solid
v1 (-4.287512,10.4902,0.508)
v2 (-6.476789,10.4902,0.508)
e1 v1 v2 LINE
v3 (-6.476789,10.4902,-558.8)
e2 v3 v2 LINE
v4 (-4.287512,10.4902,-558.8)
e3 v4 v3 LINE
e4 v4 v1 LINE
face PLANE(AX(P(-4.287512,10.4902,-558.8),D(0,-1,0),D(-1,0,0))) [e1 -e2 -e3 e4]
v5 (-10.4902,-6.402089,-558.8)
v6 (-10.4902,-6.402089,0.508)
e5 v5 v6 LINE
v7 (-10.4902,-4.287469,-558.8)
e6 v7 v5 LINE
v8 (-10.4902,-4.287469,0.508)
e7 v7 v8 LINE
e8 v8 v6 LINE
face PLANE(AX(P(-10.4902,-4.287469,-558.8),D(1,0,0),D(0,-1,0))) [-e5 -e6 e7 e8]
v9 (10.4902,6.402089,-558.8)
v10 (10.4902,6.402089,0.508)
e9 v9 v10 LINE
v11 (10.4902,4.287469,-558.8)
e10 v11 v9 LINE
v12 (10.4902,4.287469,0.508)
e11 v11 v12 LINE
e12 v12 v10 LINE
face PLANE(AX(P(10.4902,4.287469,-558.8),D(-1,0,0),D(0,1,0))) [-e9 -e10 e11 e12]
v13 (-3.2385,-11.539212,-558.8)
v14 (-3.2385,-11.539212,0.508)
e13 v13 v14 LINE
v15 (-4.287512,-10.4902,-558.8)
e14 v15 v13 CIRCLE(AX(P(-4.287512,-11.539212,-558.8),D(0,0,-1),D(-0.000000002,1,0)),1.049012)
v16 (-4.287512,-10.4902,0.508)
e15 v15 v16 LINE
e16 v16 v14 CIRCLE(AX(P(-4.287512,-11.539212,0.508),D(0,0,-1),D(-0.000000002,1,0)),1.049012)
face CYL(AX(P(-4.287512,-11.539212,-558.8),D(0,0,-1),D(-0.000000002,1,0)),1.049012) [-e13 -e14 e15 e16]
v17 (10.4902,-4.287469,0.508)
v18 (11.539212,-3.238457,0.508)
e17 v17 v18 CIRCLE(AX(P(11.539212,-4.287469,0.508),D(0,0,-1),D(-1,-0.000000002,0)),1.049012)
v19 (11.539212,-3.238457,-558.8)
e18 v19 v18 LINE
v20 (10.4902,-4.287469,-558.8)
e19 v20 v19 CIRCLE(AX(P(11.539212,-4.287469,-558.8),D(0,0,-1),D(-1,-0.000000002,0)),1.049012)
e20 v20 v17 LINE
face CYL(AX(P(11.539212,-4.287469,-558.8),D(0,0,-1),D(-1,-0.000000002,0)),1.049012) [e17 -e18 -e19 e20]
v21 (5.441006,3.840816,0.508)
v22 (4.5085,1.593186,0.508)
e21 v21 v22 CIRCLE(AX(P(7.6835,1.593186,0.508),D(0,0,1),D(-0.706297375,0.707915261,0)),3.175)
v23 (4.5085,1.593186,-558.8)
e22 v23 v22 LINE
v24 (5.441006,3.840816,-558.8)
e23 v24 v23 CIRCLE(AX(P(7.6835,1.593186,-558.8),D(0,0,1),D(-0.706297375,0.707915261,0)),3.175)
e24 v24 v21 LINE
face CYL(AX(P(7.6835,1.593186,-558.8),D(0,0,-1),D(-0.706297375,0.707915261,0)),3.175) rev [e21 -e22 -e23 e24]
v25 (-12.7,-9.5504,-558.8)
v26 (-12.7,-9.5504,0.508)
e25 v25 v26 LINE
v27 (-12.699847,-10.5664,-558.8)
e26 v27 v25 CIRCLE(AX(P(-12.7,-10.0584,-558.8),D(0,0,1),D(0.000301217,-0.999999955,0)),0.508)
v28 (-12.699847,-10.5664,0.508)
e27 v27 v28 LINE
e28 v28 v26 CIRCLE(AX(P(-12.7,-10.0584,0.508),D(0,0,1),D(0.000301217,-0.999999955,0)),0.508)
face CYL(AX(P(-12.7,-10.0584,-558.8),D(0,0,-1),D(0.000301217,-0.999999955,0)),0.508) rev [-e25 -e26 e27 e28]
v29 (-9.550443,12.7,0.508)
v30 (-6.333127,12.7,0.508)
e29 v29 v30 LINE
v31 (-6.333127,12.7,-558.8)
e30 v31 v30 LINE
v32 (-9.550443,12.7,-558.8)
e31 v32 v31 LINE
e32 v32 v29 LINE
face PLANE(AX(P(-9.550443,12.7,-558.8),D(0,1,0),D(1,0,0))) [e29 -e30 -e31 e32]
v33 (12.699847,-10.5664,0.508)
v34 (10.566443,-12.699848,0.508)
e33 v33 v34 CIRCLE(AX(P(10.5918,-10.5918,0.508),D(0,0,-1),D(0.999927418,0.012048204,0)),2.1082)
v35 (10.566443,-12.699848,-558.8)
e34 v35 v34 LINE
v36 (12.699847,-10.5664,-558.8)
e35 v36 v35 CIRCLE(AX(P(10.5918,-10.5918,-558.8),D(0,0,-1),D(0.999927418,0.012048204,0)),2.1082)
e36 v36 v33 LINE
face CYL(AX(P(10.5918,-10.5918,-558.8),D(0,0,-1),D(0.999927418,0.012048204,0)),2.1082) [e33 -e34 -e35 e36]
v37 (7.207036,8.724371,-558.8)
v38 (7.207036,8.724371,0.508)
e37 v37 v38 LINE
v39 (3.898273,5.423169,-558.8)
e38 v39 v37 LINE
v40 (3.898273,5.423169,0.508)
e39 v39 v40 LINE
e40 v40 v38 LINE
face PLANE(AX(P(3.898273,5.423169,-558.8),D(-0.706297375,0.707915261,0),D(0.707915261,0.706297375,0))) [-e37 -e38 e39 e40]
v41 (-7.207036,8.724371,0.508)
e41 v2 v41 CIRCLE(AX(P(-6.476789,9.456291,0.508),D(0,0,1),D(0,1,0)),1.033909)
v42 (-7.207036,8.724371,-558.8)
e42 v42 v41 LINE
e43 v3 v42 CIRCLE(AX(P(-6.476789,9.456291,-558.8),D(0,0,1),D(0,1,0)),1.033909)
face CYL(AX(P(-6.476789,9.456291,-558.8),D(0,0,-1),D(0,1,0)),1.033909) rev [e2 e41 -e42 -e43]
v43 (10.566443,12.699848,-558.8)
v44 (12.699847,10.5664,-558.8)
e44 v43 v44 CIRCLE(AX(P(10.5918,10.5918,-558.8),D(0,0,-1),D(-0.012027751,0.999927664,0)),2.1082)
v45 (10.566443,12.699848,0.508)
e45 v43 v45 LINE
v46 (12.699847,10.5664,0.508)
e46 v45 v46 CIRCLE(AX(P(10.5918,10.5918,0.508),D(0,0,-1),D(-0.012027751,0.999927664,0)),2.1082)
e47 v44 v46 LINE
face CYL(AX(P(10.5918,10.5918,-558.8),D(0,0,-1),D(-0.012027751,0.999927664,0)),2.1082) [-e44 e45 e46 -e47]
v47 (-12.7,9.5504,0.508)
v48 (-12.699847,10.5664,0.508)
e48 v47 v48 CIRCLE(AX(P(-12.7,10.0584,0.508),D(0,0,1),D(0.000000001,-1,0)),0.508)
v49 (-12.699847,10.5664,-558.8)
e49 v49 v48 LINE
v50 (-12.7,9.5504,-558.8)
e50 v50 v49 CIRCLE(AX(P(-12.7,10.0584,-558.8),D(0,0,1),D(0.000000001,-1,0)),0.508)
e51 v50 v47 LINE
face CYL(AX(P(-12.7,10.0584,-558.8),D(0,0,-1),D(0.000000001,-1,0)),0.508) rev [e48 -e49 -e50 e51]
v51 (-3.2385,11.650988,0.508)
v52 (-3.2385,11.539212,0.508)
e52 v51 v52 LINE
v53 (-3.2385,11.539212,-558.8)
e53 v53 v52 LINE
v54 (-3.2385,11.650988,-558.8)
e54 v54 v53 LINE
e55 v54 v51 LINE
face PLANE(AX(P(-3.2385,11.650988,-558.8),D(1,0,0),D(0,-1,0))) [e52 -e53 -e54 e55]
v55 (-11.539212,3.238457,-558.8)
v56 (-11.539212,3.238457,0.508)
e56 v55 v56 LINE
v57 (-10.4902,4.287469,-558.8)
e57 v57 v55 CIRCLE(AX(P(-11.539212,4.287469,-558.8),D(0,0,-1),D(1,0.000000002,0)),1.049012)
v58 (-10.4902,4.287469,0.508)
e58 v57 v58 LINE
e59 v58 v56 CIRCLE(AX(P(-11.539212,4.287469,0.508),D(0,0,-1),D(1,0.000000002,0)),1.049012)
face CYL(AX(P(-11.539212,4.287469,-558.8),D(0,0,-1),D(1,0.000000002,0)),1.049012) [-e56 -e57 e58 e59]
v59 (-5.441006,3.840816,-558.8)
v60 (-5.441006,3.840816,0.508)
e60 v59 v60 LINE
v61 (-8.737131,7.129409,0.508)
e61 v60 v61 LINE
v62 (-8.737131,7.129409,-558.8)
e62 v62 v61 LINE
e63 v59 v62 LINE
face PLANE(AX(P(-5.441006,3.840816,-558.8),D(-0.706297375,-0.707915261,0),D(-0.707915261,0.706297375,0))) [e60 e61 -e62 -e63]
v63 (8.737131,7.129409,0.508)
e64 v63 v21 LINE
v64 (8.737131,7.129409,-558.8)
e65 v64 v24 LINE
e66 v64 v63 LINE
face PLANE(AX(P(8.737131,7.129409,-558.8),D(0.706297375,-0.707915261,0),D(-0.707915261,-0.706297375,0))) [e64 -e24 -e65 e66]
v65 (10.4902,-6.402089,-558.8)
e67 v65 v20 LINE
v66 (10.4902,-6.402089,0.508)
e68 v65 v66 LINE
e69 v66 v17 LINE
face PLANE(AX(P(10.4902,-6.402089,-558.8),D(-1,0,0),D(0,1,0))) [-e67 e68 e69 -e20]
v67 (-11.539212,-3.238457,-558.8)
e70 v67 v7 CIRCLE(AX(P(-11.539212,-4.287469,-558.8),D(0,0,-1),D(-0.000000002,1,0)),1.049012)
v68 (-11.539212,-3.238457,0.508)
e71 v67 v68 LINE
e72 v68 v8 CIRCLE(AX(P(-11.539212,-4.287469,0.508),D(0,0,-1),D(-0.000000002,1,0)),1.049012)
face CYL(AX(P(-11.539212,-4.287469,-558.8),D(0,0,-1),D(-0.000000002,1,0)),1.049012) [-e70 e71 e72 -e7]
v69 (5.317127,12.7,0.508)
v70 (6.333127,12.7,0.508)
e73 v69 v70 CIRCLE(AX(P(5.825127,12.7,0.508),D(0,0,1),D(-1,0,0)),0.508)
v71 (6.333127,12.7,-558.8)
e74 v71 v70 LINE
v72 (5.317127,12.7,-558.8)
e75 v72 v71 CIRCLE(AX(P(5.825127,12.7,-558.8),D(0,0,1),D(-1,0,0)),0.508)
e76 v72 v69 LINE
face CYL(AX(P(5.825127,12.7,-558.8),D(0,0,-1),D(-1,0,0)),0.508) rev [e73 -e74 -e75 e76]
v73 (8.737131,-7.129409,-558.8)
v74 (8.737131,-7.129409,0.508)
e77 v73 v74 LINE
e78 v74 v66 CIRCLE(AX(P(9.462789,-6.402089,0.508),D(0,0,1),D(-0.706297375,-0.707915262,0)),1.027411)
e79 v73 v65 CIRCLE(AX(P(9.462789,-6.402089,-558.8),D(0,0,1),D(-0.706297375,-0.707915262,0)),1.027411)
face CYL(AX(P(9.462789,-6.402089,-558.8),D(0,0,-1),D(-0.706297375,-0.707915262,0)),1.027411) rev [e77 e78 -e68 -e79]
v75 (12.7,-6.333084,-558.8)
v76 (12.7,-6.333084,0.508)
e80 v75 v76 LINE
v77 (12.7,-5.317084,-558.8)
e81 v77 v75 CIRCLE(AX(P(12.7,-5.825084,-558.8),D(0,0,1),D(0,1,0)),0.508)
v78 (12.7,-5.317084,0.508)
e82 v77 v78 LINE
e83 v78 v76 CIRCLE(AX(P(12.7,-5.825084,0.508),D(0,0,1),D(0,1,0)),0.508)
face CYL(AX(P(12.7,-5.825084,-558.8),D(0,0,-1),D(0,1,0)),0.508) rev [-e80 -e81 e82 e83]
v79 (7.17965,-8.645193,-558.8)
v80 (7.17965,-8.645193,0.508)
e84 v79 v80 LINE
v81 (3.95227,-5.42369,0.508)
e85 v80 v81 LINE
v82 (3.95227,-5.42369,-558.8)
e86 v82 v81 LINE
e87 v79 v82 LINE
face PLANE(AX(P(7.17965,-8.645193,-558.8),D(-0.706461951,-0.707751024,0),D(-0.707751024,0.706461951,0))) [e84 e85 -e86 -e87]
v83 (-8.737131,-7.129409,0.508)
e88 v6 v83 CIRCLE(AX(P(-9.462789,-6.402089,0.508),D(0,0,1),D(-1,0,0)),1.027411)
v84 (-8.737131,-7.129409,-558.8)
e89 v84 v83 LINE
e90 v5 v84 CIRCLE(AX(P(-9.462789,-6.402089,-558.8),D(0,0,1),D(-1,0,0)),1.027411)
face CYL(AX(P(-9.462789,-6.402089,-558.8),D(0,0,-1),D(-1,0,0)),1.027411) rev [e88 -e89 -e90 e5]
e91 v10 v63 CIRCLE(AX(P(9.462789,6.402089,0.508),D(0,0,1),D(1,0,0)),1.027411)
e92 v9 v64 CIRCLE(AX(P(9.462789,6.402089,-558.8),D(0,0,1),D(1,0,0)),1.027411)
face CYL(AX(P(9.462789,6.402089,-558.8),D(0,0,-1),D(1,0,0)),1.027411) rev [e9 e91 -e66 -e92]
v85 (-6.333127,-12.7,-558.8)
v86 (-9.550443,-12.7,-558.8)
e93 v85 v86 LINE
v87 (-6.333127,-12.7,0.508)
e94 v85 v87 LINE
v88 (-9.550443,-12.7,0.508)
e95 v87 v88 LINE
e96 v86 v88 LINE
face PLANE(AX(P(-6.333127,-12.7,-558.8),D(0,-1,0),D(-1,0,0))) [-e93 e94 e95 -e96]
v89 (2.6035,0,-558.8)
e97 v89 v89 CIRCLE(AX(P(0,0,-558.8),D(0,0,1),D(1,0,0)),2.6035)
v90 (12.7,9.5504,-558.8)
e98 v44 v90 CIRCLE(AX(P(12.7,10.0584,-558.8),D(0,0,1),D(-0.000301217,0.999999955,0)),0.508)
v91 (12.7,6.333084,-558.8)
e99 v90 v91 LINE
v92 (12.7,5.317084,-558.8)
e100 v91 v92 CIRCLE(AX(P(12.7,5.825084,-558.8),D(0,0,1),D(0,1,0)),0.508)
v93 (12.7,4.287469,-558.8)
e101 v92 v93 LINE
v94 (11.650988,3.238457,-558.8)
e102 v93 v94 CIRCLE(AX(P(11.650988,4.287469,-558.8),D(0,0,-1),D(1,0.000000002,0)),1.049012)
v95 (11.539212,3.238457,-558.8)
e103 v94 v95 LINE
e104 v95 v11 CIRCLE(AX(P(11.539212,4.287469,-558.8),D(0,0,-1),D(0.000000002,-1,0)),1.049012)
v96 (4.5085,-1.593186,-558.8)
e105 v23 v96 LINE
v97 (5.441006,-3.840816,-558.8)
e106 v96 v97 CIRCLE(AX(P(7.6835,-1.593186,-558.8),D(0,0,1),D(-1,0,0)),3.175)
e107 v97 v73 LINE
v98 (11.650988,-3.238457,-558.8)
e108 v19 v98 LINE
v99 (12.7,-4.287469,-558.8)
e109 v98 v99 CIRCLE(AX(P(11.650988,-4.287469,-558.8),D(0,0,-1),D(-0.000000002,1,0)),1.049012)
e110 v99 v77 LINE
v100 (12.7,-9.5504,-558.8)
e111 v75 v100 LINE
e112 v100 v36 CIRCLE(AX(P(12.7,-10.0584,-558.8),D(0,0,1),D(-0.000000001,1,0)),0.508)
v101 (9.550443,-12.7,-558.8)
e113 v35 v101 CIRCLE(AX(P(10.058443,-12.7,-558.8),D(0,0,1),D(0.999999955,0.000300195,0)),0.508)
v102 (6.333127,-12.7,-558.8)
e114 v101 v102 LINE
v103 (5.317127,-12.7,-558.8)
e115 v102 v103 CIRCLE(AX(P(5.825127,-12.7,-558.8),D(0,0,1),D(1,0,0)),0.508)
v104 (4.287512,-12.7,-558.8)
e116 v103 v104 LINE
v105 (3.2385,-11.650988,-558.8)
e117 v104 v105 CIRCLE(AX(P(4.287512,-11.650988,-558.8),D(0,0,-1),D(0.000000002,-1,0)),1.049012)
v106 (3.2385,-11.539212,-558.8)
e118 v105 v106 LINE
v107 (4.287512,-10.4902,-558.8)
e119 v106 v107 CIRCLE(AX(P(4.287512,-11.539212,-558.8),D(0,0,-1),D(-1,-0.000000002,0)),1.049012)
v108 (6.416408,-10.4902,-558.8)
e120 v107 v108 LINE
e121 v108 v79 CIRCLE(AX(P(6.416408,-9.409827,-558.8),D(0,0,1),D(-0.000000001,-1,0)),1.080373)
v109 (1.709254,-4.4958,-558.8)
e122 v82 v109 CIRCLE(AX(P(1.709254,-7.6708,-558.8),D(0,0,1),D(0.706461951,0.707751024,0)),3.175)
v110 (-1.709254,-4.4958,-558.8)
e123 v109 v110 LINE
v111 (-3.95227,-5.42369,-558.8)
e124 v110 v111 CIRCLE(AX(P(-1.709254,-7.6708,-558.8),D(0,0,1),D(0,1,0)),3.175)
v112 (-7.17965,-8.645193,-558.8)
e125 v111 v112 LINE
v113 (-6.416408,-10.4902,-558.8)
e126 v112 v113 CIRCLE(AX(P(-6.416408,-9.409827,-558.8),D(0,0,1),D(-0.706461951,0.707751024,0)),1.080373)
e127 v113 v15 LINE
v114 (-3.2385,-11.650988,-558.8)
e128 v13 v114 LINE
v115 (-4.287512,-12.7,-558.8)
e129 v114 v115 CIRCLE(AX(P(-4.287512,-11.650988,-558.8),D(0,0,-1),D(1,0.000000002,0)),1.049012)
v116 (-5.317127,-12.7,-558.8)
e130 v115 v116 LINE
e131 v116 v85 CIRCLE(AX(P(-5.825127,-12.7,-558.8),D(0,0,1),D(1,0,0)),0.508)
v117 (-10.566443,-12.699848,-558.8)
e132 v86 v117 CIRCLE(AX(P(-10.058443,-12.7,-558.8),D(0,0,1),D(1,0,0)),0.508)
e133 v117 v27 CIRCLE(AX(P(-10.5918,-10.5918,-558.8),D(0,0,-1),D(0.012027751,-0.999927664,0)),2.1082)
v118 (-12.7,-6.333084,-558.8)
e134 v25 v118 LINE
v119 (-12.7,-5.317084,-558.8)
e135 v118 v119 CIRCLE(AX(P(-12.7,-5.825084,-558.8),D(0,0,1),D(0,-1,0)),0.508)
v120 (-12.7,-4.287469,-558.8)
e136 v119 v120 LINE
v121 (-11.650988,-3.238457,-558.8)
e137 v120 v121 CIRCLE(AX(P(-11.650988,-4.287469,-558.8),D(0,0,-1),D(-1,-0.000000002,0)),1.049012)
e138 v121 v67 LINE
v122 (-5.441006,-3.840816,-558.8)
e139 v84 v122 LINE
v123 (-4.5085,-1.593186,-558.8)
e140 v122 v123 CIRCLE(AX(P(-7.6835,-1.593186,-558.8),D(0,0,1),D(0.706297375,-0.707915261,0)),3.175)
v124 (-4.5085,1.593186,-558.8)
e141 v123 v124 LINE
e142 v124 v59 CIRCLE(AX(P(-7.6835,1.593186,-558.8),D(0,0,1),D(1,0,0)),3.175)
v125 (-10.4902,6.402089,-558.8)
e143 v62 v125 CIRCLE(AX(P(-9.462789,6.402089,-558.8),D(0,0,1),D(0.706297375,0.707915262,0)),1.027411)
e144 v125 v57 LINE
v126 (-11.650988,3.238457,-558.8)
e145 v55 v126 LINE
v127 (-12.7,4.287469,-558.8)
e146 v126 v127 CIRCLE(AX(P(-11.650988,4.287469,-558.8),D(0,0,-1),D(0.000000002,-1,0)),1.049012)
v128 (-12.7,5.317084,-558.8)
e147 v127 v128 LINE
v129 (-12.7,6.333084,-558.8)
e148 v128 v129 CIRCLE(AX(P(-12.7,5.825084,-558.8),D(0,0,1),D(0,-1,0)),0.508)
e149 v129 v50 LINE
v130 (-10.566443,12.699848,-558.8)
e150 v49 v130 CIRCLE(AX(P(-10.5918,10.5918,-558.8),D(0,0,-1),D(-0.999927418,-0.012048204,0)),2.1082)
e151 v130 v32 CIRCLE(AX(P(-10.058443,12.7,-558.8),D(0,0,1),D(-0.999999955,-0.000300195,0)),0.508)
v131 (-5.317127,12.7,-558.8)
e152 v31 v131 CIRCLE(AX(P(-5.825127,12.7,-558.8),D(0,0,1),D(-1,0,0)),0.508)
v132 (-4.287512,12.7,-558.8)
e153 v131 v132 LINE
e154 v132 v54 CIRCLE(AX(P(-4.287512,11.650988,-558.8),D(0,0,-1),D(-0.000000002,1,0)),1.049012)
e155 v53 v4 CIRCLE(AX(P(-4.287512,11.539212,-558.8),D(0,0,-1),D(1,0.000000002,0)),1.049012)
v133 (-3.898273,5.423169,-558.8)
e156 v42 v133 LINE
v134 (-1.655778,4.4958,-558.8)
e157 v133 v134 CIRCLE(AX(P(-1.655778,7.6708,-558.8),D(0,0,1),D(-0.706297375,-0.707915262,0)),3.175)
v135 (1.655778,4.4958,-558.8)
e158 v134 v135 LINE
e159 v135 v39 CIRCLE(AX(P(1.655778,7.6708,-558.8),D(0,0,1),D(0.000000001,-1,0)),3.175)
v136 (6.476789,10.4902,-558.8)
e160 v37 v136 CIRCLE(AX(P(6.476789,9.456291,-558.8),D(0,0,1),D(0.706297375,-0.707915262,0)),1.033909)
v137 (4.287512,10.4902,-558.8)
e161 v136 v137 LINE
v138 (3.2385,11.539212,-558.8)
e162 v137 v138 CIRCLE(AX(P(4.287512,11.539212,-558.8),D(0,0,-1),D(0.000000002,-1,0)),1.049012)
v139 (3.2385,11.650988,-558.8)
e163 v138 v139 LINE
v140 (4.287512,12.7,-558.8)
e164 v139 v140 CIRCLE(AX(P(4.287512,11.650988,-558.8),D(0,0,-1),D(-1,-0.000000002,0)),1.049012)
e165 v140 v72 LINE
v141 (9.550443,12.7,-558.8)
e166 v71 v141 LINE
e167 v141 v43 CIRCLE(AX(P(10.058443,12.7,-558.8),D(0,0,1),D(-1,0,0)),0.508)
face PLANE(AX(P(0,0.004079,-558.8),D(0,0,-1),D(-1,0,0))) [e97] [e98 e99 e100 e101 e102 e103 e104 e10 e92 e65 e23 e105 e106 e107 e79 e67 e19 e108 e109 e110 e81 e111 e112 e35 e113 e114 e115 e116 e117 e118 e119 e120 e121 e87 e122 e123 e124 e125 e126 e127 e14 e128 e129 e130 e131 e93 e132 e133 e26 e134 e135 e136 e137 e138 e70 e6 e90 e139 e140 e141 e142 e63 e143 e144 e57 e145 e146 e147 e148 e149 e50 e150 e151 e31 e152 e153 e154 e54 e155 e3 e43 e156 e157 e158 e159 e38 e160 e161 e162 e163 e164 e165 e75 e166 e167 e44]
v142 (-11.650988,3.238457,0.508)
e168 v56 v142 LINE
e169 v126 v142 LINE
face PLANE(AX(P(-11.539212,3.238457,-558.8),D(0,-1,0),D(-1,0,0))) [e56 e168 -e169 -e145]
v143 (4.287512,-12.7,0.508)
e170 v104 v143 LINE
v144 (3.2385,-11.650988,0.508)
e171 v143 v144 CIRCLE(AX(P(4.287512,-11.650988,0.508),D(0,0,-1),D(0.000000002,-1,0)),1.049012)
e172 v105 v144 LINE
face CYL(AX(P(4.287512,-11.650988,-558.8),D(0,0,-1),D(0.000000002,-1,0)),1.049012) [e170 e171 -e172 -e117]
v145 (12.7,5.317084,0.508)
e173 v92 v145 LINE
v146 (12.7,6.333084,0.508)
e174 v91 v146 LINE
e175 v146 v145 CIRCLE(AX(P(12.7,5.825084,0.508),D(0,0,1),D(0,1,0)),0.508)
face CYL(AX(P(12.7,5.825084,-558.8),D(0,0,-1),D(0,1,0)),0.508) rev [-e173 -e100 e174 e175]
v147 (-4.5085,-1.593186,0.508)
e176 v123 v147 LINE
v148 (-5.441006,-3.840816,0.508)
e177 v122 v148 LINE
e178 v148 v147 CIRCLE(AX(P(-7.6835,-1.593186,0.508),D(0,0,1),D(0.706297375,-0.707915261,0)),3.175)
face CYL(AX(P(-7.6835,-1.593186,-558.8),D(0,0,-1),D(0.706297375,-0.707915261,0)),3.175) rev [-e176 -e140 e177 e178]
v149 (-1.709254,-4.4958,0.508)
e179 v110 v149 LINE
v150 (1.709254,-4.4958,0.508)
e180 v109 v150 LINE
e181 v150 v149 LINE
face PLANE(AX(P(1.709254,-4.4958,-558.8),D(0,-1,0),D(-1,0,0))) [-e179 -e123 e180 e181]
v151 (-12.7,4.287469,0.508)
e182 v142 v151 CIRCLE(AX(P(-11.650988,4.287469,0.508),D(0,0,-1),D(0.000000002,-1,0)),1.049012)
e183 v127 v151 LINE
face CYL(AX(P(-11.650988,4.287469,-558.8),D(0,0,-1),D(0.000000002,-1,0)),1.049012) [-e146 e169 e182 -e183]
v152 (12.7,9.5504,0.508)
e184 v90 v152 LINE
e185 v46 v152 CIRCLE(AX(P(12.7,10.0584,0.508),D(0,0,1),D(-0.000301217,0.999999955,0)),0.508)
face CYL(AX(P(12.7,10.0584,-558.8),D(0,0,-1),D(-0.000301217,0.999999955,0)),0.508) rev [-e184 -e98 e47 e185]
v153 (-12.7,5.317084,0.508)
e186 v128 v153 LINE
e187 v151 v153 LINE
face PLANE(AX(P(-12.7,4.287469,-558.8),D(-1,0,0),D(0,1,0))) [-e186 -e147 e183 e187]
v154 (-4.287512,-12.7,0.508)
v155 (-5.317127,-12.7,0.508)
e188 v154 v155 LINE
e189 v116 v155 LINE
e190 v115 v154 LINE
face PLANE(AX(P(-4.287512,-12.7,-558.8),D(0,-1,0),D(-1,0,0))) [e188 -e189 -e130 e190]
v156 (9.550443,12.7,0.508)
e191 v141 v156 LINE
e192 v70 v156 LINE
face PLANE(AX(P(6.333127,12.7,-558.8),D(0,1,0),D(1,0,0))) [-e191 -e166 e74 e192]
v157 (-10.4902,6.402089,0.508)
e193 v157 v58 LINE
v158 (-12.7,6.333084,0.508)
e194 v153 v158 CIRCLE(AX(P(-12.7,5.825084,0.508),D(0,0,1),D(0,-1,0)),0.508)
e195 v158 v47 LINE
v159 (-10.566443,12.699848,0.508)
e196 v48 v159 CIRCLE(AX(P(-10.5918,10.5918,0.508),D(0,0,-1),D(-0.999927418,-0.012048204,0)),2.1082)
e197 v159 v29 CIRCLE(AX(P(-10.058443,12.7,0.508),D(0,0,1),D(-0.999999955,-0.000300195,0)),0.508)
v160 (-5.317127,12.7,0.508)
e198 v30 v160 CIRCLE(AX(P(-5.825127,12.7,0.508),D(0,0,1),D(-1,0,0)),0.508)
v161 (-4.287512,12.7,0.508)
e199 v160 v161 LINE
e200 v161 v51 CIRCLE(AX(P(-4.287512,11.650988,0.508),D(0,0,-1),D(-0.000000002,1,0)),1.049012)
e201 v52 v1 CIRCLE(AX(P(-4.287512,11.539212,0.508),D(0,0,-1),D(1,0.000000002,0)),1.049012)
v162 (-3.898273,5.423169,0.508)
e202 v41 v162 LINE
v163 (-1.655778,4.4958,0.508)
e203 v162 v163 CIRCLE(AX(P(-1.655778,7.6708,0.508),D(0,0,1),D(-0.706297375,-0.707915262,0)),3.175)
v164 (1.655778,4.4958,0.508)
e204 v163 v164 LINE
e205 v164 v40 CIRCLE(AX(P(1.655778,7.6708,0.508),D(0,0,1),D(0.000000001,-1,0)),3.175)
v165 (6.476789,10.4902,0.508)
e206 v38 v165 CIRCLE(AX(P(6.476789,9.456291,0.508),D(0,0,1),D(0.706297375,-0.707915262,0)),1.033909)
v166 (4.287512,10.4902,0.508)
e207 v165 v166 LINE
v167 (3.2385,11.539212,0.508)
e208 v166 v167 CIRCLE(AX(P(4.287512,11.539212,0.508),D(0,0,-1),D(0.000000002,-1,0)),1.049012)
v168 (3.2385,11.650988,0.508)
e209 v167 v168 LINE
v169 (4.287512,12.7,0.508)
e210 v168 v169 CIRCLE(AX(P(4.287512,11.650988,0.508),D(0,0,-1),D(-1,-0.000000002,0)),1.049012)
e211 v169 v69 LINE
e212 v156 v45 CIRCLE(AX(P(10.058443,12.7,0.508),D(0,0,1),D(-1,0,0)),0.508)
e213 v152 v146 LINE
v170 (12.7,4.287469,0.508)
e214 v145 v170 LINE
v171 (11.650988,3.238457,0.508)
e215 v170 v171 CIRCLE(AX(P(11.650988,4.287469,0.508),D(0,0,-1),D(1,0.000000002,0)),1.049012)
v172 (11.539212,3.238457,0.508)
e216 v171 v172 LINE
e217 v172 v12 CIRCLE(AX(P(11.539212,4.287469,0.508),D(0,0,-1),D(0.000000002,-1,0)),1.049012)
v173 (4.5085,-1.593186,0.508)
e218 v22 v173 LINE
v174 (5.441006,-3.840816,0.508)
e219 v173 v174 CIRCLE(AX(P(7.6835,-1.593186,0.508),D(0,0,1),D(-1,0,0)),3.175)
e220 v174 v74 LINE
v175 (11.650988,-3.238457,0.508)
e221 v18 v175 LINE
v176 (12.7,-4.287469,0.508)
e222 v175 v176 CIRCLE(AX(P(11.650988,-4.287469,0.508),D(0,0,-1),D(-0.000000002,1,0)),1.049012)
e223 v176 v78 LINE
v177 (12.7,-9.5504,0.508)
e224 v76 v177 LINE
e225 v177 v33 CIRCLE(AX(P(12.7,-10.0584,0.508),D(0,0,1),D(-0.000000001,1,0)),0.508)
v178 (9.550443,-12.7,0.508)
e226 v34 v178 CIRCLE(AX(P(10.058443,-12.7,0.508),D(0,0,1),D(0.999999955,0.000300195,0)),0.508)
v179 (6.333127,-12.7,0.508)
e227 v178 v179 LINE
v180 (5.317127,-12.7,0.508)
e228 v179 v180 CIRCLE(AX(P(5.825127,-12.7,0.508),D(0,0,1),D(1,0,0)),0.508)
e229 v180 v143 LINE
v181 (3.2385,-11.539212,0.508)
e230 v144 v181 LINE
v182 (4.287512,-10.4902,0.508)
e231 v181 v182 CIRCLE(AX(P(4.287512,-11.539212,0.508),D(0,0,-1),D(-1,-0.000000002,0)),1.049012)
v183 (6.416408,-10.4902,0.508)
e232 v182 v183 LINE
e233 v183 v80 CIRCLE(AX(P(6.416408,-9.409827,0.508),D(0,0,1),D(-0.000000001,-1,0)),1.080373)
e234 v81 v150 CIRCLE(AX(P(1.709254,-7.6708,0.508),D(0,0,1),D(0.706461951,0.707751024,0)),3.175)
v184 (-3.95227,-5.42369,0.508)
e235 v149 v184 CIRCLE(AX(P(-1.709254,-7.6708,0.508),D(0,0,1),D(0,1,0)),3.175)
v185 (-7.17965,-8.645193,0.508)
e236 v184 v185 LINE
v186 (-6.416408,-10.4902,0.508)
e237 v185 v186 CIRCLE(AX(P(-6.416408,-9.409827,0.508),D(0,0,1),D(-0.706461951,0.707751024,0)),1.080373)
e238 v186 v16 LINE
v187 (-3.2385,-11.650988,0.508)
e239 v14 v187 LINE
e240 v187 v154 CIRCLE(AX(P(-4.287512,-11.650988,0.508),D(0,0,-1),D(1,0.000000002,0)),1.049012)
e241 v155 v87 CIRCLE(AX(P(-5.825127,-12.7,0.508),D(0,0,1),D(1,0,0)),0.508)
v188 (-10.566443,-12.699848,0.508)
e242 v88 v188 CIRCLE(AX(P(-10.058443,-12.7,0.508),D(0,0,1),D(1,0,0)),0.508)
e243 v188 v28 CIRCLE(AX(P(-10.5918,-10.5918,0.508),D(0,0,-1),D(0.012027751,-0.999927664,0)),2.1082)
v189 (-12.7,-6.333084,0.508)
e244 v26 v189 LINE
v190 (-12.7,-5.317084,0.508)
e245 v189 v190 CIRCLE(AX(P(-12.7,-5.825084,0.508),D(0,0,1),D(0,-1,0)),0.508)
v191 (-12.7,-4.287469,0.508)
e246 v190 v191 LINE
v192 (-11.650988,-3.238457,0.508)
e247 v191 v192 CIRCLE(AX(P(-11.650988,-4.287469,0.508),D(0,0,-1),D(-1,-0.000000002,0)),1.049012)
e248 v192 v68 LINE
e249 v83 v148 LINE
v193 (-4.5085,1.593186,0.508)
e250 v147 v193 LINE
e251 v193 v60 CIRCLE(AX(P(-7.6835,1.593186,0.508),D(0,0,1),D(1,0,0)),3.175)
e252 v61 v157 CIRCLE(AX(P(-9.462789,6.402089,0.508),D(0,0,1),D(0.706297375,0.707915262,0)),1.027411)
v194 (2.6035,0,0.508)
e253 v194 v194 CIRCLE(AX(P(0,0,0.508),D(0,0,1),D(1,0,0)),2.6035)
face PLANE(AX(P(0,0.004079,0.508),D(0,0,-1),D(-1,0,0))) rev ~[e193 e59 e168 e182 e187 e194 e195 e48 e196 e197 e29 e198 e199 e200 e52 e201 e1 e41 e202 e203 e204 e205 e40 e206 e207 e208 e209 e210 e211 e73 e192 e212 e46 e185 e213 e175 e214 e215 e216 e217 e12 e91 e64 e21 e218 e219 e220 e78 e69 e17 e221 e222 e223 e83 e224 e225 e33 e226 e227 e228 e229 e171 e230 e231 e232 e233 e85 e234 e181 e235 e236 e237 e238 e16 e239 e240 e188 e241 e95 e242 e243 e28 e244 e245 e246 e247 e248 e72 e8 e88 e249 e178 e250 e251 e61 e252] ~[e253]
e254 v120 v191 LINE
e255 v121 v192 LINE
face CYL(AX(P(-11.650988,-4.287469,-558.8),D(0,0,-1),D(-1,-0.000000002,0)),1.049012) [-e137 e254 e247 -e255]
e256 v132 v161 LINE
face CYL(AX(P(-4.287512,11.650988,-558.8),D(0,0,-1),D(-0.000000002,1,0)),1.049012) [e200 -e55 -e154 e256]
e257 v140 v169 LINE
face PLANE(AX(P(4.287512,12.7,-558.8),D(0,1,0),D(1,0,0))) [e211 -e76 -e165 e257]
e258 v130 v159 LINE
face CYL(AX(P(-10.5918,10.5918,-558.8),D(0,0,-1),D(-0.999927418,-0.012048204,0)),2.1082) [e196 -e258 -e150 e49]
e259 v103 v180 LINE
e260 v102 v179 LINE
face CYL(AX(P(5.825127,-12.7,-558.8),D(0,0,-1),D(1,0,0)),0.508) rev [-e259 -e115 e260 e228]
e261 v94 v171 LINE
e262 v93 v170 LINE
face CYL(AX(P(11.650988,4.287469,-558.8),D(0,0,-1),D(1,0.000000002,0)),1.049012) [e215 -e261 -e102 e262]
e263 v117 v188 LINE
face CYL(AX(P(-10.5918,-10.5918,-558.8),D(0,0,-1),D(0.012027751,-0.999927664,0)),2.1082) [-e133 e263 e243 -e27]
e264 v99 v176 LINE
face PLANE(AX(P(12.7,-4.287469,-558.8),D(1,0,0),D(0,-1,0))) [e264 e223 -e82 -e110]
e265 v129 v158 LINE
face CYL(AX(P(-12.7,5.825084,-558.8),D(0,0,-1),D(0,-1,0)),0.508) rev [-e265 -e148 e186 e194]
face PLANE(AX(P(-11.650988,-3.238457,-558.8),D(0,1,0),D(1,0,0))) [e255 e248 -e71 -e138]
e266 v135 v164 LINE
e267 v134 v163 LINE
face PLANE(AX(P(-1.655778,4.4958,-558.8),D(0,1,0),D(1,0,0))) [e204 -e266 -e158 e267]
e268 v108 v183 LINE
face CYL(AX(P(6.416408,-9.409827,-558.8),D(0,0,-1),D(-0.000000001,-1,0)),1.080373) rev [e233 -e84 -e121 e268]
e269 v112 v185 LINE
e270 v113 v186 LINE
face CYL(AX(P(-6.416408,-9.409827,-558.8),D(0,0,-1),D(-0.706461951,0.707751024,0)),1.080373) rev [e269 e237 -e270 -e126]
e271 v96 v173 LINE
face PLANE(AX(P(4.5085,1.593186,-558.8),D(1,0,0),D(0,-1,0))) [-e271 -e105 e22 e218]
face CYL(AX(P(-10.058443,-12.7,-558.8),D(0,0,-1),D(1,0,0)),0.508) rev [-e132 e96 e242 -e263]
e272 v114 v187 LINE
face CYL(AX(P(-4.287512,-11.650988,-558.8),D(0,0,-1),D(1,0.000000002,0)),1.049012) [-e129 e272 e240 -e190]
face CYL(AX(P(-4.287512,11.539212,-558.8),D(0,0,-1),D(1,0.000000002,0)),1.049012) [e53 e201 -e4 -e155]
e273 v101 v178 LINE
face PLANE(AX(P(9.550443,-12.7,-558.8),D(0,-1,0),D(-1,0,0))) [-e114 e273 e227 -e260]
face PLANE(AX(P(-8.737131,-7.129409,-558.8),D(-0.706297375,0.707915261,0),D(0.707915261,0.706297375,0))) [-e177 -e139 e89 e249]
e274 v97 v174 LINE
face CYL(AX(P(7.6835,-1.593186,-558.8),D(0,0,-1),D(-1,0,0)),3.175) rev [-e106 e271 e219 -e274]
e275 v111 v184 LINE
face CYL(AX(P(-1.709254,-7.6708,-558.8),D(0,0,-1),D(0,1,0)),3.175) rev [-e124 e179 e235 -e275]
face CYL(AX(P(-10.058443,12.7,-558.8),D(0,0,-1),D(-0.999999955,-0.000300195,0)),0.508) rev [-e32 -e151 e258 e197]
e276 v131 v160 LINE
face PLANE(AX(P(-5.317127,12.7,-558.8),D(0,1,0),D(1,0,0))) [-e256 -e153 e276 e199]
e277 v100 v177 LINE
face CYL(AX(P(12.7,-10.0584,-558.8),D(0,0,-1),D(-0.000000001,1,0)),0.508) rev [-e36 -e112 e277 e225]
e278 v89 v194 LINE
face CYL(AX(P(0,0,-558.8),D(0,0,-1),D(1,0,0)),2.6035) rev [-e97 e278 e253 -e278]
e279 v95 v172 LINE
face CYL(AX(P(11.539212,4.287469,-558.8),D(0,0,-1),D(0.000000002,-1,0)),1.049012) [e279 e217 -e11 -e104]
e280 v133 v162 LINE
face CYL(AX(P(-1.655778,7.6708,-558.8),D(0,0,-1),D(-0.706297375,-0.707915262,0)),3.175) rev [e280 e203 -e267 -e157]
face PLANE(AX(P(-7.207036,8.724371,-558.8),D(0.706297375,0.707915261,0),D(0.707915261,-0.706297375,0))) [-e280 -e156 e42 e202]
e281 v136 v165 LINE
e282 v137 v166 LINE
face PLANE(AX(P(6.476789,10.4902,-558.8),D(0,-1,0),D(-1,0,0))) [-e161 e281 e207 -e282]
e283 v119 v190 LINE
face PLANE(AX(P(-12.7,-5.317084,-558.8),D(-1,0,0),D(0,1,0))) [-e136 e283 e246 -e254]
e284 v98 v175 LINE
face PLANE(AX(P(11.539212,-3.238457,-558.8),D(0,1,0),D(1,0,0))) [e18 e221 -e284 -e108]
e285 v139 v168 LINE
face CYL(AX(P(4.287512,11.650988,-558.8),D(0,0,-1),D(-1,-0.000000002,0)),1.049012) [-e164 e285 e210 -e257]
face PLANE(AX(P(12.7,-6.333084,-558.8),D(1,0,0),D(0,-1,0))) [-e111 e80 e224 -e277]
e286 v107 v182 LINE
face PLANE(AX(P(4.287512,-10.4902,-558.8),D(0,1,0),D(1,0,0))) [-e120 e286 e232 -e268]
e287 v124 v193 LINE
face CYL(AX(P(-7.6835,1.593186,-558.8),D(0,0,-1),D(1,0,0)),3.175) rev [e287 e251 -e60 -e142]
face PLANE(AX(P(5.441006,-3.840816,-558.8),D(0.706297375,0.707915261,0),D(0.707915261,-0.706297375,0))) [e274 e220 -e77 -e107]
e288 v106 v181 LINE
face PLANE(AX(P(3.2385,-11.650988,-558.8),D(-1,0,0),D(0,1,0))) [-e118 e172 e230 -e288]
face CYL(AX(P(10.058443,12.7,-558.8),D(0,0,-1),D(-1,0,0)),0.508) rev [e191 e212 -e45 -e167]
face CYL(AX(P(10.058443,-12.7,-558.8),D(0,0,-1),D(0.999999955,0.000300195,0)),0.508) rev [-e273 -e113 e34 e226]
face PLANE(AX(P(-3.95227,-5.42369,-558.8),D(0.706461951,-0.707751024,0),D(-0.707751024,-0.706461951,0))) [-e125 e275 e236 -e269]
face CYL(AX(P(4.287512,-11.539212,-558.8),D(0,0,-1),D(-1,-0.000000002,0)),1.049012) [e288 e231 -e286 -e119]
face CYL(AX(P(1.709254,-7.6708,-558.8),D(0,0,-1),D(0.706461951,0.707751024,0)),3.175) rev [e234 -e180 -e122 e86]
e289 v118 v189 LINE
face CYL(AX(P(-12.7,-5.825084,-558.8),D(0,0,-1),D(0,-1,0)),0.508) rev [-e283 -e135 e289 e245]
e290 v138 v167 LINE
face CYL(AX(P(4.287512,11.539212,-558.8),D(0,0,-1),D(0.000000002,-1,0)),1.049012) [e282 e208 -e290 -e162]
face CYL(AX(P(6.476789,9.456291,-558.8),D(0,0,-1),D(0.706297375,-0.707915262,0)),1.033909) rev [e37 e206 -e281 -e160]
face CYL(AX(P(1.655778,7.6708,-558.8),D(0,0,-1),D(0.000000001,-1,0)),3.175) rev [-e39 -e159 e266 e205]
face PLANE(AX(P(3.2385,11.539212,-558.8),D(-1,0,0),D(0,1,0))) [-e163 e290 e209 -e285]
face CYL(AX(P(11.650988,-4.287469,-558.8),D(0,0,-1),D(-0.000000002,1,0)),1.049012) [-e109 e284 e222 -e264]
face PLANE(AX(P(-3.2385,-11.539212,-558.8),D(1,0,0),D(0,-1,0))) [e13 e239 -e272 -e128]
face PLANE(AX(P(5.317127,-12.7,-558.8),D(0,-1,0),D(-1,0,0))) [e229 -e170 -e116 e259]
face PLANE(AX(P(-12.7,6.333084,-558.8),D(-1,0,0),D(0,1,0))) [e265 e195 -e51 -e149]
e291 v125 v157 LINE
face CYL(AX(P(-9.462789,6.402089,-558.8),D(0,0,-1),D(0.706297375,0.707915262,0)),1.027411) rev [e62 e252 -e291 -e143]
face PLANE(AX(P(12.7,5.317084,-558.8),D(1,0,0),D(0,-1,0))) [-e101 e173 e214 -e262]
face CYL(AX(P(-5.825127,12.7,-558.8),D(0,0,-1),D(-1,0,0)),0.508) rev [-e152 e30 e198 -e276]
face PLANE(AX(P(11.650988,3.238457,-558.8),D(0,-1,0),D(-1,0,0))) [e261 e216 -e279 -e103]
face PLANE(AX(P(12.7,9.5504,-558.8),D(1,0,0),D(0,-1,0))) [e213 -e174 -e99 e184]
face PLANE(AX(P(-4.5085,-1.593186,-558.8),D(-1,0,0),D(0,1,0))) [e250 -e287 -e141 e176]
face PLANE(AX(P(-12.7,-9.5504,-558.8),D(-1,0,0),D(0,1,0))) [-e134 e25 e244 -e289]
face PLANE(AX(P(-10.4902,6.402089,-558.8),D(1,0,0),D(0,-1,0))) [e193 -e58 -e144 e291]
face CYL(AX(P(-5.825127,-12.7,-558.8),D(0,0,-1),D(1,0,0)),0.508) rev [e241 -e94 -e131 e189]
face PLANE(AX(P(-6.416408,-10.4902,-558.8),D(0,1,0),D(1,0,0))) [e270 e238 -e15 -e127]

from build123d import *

# Parameters (mm, degrees)
EXTRUDE1_DEPTH      = 0.508
EXTRUDE1_DEPTH_BACK = 558.8
SKETCH1_R           = 2.6035


with BuildPart() as part:
    # Sketch1 → Extrude1 (new, two sides: drawn at the far end of the back side and taken through both)
    with BuildSketch(Plane.XY.offset(-EXTRUDE1_DEPTH_BACK)):
        with BuildLine():
            Line((-7.207036008, 8.724370562), (-3.898272566, 5.423169045))
            ThreePointArc((-3.898272566, 5.423169045), (-2.869120213, 4.736787962), (-1.655778399, 4.4958))
            Line((-1.655778399, 4.4958), (1.655778399, 4.4958))
            ThreePointArc((1.655778399, 4.4958), (2.869120213, 4.736787962), (3.898272566, 5.423169045))
            Line((3.898272566, 5.423169045), (7.207036008, 8.724370562))
            ThreePointArc((7.207036008, 8.724370562), (7.432222385, 9.85140422), (6.476788598, 10.4902))
            Line((6.476788598, 10.4902), (4.287512407, 10.4902))
            ThreePointArc((4.287512407, 10.4902), (3.54574862, 10.79744862), (3.2385, 11.539212407))
            Line((3.2385, 11.539212407), (3.2385, 11.650987593))
            ThreePointArc((3.2385, 11.650987593), (3.54574862, 12.39275138), (4.287512407, 12.7))
            Line((4.287512407, 12.7), (5.317126718, 12.7))
            ThreePointArc((5.317126718, 12.7), (5.825126718, 12.192), (6.333126718, 12.7))
            Line((6.333126718, 12.7), (9.550443118, 12.7))
            ThreePointArc((9.550443118, 12.7), (10.058366869, 12.192000006), (10.566443095, 12.699847501))
            ThreePointArc((10.566443095, 12.699847501), (12.082537762, 12.08250727), (12.699846982, 10.566399977))
            ThreePointArc((12.699846982, 10.566399977), (12.192000006, 10.058323491), (12.7, 9.5504))
            Line((12.7, 9.5504), (12.7, 6.3330836))
            ThreePointArc((12.7, 6.3330836), (12.192, 5.8250836), (12.7, 5.3170836))
            Line((12.7, 5.3170836), (12.7, 4.287469289))
            ThreePointArc((12.7, 4.287469289), (12.39275138, 3.545705502), (11.650987593, 3.238456882))
            Line((11.650987593, 3.238456882), (11.539212407, 3.238456882))
            ThreePointArc((11.539212407, 3.238456882), (10.79744862, 3.545705502), (10.4902, 4.287469289))
            Line((10.4902, 4.287469289), (10.4902, 6.402089023))
            ThreePointArc((10.4902, 6.402089023), (9.856505071, 7.351067942), (8.737131347, 7.129408934))
            Line((8.737131347, 7.129408934), (5.441005833, 3.840816462))
            ThreePointArc((5.441005833, 3.840816462), (4.750877967, 2.809883091), (4.5085, 1.593185507))
            Line((4.5085, 1.593185507), (4.5085, -1.593185507))
            ThreePointArc((4.5085, -1.593185507), (4.750877967, -2.809883091), (5.441005833, -3.840816462))
            Line((5.441005833, -3.840816462), (8.737131347, -7.129408934))
            ThreePointArc((8.737131347, -7.129408934), (9.856505071, -7.351067942), (10.4902, -6.402089023))
            Line((10.4902, -6.402089023), (10.4902, -4.287469289))
            ThreePointArc((10.4902, -4.287469289), (10.79744862, -3.545705502), (11.539212407, -3.238456882))
            Line((11.539212407, -3.238456882), (11.650987593, -3.238456882))
            ThreePointArc((11.650987593, -3.238456882), (12.39275138, -3.545705502), (12.7, -4.287469289))
            Line((12.7, -4.287469289), (12.7, -5.3170836))
            ThreePointArc((12.7, -5.3170836), (12.192, -5.8250836), (12.7, -6.3330836))
            Line((12.7, -6.3330836), (12.7, -9.5504))
            ThreePointArc((12.7, -9.5504), (12.192000006, -10.058323491), (12.699846982, -10.566399977))
            ThreePointArc((12.699846982, -10.566399977), (12.082537762, -12.08250727), (10.566443095, -12.699847501))
            ThreePointArc((10.566443095, -12.699847501), (10.058366869, -12.192000006), (9.550443118, -12.7))
            Line((9.550443118, -12.7), (6.333126718, -12.7))
            ThreePointArc((6.333126718, -12.7), (5.825126718, -12.192), (5.317126718, -12.7))
            Line((5.317126718, -12.7), (4.287512407, -12.7))
            ThreePointArc((4.287512407, -12.7), (3.54574862, -12.39275138), (3.2385, -11.650987593))
            Line((3.2385, -11.650987593), (3.2385, -11.539212407))
            ThreePointArc((3.2385, -11.539212407), (3.54574862, -10.79744862), (4.287512407, -10.4902))
            Line((4.287512407, -10.4902), (6.416408329, -10.4902))
            ThreePointArc((6.416408329, -10.4902), (7.41473083, -9.822813117), (7.179650497, -8.645192506))
            Line((7.179650497, -8.645192506), (3.952270251, -5.423690499))
            ThreePointArc((3.952270251, -5.423690499), (2.922936451, -4.736929036), (1.709253557, -4.4958))
            Line((1.709253557, -4.4958), (-1.709253557, -4.4958))
            ThreePointArc((-1.709253557, -4.4958), (-2.922936451, -4.736929036), (-3.952270251, -5.423690499))
            Line((-3.952270251, -5.423690499), (-7.179650497, -8.645192506))
            ThreePointArc((-7.179650497, -8.645192506), (-7.41473083, -9.822813117), (-6.416408329, -10.4902))
            Line((-6.416408329, -10.4902), (-4.287512407, -10.4902))
            ThreePointArc((-4.287512407, -10.4902), (-3.54574862, -10.79744862), (-3.2385, -11.539212407))
            Line((-3.2385, -11.539212407), (-3.2385, -11.650987593))
            ThreePointArc((-3.2385, -11.650987593), (-3.54574862, -12.39275138), (-4.287512407, -12.7))
            Line((-4.287512407, -12.7), (-5.317126718, -12.7))
            ThreePointArc((-5.317126718, -12.7), (-5.825126718, -12.192), (-6.333126718, -12.7))
            Line((-6.333126718, -12.7), (-9.550443118, -12.7))
            ThreePointArc((-9.550443118, -12.7), (-10.058366869, -12.192000006), (-10.566443095, -12.699847501))
            ThreePointArc((-10.566443095, -12.699847501), (-12.082537762, -12.08250727), (-12.699846982, -10.566399977))
            ThreePointArc((-12.699846982, -10.566399977), (-12.192000006, -10.058323491), (-12.7, -9.5504))
            Line((-12.7, -9.5504), (-12.7, -6.3330836))
            ThreePointArc((-12.7, -6.3330836), (-12.192, -5.8250836), (-12.7, -5.3170836))
            Line((-12.7, -5.3170836), (-12.7, -4.287469289))
            ThreePointArc((-12.7, -4.287469289), (-12.39275138, -3.545705502), (-11.650987593, -3.238456882))
            Line((-11.650987593, -3.238456882), (-11.539212407, -3.238456882))
            ThreePointArc((-11.539212407, -3.238456882), (-10.79744862, -3.545705502), (-10.4902, -4.287469289))
            Line((-10.4902, -4.287469289), (-10.4902, -6.402089023))
            ThreePointArc((-10.4902, -6.402089023), (-9.856505071, -7.351067942), (-8.737131347, -7.129408934))
            Line((-8.737131347, -7.129408934), (-5.441005833, -3.840816462))
            ThreePointArc((-5.441005833, -3.840816462), (-4.750877967, -2.809883091), (-4.5085, -1.593185507))
            Line((-4.5085, -1.593185507), (-4.5085, 1.593185507))
            ThreePointArc((-4.5085, 1.593185507), (-4.750877967, 2.809883091), (-5.441005833, 3.840816462))
            Line((-5.441005833, 3.840816462), (-8.737131347, 7.129408934))
            ThreePointArc((-8.737131347, 7.129408934), (-9.856505071, 7.351067942), (-10.4902, 6.402089023))
            Line((-10.4902, 6.402089023), (-10.4902, 4.287469289))
            ThreePointArc((-10.4902, 4.287469289), (-10.79744862, 3.545705502), (-11.539212407, 3.238456882))
            Line((-11.539212407, 3.238456882), (-11.650987593, 3.238456882))
            ThreePointArc((-11.650987593, 3.238456882), (-12.39275138, 3.545705502), (-12.7, 4.287469289))
            Line((-12.7, 4.287469289), (-12.7, 5.3170836))
            ThreePointArc((-12.7, 5.3170836), (-12.192, 5.8250836), (-12.7, 6.3330836))
            Line((-12.7, 6.3330836), (-12.7, 9.5504))
            ThreePointArc((-12.7, 9.5504), (-12.192000006, 10.058323491), (-12.699846982, 10.566399977))
            ThreePointArc((-12.699846982, 10.566399977), (-12.082537762, 12.08250727), (-10.566443095, 12.699847501))
            ThreePointArc((-10.566443095, 12.699847501), (-10.058366869, 12.192000006), (-9.550443118, 12.7))
            Line((-9.550443118, 12.7), (-6.333126718, 12.7))
            ThreePointArc((-6.333126718, 12.7), (-5.825126718, 12.192), (-5.317126718, 12.7))
            Line((-5.317126718, 12.7), (-4.287512407, 12.7))
            ThreePointArc((-4.287512407, 12.7), (-3.54574862, 12.39275138), (-3.2385, 11.650987593))
            Line((-3.2385, 11.650987593), (-3.2385, 11.539212407))
            ThreePointArc((-3.2385, 11.539212407), (-3.54574862, 10.79744862), (-4.287512407, 10.4902))
            Line((-4.287512407, 10.4902), (-6.476788598, 10.4902))
            ThreePointArc((-6.476788598, 10.4902), (-7.432222385, 9.85140422), (-7.207036008, 8.724370562))
        make_face()
        Circle(SKETCH1_R, mode=Mode.SUBTRACT)
    extrude(amount=EXTRUDE1_DEPTH + EXTRUDE1_DEPTH_BACK)


solid = part.part
